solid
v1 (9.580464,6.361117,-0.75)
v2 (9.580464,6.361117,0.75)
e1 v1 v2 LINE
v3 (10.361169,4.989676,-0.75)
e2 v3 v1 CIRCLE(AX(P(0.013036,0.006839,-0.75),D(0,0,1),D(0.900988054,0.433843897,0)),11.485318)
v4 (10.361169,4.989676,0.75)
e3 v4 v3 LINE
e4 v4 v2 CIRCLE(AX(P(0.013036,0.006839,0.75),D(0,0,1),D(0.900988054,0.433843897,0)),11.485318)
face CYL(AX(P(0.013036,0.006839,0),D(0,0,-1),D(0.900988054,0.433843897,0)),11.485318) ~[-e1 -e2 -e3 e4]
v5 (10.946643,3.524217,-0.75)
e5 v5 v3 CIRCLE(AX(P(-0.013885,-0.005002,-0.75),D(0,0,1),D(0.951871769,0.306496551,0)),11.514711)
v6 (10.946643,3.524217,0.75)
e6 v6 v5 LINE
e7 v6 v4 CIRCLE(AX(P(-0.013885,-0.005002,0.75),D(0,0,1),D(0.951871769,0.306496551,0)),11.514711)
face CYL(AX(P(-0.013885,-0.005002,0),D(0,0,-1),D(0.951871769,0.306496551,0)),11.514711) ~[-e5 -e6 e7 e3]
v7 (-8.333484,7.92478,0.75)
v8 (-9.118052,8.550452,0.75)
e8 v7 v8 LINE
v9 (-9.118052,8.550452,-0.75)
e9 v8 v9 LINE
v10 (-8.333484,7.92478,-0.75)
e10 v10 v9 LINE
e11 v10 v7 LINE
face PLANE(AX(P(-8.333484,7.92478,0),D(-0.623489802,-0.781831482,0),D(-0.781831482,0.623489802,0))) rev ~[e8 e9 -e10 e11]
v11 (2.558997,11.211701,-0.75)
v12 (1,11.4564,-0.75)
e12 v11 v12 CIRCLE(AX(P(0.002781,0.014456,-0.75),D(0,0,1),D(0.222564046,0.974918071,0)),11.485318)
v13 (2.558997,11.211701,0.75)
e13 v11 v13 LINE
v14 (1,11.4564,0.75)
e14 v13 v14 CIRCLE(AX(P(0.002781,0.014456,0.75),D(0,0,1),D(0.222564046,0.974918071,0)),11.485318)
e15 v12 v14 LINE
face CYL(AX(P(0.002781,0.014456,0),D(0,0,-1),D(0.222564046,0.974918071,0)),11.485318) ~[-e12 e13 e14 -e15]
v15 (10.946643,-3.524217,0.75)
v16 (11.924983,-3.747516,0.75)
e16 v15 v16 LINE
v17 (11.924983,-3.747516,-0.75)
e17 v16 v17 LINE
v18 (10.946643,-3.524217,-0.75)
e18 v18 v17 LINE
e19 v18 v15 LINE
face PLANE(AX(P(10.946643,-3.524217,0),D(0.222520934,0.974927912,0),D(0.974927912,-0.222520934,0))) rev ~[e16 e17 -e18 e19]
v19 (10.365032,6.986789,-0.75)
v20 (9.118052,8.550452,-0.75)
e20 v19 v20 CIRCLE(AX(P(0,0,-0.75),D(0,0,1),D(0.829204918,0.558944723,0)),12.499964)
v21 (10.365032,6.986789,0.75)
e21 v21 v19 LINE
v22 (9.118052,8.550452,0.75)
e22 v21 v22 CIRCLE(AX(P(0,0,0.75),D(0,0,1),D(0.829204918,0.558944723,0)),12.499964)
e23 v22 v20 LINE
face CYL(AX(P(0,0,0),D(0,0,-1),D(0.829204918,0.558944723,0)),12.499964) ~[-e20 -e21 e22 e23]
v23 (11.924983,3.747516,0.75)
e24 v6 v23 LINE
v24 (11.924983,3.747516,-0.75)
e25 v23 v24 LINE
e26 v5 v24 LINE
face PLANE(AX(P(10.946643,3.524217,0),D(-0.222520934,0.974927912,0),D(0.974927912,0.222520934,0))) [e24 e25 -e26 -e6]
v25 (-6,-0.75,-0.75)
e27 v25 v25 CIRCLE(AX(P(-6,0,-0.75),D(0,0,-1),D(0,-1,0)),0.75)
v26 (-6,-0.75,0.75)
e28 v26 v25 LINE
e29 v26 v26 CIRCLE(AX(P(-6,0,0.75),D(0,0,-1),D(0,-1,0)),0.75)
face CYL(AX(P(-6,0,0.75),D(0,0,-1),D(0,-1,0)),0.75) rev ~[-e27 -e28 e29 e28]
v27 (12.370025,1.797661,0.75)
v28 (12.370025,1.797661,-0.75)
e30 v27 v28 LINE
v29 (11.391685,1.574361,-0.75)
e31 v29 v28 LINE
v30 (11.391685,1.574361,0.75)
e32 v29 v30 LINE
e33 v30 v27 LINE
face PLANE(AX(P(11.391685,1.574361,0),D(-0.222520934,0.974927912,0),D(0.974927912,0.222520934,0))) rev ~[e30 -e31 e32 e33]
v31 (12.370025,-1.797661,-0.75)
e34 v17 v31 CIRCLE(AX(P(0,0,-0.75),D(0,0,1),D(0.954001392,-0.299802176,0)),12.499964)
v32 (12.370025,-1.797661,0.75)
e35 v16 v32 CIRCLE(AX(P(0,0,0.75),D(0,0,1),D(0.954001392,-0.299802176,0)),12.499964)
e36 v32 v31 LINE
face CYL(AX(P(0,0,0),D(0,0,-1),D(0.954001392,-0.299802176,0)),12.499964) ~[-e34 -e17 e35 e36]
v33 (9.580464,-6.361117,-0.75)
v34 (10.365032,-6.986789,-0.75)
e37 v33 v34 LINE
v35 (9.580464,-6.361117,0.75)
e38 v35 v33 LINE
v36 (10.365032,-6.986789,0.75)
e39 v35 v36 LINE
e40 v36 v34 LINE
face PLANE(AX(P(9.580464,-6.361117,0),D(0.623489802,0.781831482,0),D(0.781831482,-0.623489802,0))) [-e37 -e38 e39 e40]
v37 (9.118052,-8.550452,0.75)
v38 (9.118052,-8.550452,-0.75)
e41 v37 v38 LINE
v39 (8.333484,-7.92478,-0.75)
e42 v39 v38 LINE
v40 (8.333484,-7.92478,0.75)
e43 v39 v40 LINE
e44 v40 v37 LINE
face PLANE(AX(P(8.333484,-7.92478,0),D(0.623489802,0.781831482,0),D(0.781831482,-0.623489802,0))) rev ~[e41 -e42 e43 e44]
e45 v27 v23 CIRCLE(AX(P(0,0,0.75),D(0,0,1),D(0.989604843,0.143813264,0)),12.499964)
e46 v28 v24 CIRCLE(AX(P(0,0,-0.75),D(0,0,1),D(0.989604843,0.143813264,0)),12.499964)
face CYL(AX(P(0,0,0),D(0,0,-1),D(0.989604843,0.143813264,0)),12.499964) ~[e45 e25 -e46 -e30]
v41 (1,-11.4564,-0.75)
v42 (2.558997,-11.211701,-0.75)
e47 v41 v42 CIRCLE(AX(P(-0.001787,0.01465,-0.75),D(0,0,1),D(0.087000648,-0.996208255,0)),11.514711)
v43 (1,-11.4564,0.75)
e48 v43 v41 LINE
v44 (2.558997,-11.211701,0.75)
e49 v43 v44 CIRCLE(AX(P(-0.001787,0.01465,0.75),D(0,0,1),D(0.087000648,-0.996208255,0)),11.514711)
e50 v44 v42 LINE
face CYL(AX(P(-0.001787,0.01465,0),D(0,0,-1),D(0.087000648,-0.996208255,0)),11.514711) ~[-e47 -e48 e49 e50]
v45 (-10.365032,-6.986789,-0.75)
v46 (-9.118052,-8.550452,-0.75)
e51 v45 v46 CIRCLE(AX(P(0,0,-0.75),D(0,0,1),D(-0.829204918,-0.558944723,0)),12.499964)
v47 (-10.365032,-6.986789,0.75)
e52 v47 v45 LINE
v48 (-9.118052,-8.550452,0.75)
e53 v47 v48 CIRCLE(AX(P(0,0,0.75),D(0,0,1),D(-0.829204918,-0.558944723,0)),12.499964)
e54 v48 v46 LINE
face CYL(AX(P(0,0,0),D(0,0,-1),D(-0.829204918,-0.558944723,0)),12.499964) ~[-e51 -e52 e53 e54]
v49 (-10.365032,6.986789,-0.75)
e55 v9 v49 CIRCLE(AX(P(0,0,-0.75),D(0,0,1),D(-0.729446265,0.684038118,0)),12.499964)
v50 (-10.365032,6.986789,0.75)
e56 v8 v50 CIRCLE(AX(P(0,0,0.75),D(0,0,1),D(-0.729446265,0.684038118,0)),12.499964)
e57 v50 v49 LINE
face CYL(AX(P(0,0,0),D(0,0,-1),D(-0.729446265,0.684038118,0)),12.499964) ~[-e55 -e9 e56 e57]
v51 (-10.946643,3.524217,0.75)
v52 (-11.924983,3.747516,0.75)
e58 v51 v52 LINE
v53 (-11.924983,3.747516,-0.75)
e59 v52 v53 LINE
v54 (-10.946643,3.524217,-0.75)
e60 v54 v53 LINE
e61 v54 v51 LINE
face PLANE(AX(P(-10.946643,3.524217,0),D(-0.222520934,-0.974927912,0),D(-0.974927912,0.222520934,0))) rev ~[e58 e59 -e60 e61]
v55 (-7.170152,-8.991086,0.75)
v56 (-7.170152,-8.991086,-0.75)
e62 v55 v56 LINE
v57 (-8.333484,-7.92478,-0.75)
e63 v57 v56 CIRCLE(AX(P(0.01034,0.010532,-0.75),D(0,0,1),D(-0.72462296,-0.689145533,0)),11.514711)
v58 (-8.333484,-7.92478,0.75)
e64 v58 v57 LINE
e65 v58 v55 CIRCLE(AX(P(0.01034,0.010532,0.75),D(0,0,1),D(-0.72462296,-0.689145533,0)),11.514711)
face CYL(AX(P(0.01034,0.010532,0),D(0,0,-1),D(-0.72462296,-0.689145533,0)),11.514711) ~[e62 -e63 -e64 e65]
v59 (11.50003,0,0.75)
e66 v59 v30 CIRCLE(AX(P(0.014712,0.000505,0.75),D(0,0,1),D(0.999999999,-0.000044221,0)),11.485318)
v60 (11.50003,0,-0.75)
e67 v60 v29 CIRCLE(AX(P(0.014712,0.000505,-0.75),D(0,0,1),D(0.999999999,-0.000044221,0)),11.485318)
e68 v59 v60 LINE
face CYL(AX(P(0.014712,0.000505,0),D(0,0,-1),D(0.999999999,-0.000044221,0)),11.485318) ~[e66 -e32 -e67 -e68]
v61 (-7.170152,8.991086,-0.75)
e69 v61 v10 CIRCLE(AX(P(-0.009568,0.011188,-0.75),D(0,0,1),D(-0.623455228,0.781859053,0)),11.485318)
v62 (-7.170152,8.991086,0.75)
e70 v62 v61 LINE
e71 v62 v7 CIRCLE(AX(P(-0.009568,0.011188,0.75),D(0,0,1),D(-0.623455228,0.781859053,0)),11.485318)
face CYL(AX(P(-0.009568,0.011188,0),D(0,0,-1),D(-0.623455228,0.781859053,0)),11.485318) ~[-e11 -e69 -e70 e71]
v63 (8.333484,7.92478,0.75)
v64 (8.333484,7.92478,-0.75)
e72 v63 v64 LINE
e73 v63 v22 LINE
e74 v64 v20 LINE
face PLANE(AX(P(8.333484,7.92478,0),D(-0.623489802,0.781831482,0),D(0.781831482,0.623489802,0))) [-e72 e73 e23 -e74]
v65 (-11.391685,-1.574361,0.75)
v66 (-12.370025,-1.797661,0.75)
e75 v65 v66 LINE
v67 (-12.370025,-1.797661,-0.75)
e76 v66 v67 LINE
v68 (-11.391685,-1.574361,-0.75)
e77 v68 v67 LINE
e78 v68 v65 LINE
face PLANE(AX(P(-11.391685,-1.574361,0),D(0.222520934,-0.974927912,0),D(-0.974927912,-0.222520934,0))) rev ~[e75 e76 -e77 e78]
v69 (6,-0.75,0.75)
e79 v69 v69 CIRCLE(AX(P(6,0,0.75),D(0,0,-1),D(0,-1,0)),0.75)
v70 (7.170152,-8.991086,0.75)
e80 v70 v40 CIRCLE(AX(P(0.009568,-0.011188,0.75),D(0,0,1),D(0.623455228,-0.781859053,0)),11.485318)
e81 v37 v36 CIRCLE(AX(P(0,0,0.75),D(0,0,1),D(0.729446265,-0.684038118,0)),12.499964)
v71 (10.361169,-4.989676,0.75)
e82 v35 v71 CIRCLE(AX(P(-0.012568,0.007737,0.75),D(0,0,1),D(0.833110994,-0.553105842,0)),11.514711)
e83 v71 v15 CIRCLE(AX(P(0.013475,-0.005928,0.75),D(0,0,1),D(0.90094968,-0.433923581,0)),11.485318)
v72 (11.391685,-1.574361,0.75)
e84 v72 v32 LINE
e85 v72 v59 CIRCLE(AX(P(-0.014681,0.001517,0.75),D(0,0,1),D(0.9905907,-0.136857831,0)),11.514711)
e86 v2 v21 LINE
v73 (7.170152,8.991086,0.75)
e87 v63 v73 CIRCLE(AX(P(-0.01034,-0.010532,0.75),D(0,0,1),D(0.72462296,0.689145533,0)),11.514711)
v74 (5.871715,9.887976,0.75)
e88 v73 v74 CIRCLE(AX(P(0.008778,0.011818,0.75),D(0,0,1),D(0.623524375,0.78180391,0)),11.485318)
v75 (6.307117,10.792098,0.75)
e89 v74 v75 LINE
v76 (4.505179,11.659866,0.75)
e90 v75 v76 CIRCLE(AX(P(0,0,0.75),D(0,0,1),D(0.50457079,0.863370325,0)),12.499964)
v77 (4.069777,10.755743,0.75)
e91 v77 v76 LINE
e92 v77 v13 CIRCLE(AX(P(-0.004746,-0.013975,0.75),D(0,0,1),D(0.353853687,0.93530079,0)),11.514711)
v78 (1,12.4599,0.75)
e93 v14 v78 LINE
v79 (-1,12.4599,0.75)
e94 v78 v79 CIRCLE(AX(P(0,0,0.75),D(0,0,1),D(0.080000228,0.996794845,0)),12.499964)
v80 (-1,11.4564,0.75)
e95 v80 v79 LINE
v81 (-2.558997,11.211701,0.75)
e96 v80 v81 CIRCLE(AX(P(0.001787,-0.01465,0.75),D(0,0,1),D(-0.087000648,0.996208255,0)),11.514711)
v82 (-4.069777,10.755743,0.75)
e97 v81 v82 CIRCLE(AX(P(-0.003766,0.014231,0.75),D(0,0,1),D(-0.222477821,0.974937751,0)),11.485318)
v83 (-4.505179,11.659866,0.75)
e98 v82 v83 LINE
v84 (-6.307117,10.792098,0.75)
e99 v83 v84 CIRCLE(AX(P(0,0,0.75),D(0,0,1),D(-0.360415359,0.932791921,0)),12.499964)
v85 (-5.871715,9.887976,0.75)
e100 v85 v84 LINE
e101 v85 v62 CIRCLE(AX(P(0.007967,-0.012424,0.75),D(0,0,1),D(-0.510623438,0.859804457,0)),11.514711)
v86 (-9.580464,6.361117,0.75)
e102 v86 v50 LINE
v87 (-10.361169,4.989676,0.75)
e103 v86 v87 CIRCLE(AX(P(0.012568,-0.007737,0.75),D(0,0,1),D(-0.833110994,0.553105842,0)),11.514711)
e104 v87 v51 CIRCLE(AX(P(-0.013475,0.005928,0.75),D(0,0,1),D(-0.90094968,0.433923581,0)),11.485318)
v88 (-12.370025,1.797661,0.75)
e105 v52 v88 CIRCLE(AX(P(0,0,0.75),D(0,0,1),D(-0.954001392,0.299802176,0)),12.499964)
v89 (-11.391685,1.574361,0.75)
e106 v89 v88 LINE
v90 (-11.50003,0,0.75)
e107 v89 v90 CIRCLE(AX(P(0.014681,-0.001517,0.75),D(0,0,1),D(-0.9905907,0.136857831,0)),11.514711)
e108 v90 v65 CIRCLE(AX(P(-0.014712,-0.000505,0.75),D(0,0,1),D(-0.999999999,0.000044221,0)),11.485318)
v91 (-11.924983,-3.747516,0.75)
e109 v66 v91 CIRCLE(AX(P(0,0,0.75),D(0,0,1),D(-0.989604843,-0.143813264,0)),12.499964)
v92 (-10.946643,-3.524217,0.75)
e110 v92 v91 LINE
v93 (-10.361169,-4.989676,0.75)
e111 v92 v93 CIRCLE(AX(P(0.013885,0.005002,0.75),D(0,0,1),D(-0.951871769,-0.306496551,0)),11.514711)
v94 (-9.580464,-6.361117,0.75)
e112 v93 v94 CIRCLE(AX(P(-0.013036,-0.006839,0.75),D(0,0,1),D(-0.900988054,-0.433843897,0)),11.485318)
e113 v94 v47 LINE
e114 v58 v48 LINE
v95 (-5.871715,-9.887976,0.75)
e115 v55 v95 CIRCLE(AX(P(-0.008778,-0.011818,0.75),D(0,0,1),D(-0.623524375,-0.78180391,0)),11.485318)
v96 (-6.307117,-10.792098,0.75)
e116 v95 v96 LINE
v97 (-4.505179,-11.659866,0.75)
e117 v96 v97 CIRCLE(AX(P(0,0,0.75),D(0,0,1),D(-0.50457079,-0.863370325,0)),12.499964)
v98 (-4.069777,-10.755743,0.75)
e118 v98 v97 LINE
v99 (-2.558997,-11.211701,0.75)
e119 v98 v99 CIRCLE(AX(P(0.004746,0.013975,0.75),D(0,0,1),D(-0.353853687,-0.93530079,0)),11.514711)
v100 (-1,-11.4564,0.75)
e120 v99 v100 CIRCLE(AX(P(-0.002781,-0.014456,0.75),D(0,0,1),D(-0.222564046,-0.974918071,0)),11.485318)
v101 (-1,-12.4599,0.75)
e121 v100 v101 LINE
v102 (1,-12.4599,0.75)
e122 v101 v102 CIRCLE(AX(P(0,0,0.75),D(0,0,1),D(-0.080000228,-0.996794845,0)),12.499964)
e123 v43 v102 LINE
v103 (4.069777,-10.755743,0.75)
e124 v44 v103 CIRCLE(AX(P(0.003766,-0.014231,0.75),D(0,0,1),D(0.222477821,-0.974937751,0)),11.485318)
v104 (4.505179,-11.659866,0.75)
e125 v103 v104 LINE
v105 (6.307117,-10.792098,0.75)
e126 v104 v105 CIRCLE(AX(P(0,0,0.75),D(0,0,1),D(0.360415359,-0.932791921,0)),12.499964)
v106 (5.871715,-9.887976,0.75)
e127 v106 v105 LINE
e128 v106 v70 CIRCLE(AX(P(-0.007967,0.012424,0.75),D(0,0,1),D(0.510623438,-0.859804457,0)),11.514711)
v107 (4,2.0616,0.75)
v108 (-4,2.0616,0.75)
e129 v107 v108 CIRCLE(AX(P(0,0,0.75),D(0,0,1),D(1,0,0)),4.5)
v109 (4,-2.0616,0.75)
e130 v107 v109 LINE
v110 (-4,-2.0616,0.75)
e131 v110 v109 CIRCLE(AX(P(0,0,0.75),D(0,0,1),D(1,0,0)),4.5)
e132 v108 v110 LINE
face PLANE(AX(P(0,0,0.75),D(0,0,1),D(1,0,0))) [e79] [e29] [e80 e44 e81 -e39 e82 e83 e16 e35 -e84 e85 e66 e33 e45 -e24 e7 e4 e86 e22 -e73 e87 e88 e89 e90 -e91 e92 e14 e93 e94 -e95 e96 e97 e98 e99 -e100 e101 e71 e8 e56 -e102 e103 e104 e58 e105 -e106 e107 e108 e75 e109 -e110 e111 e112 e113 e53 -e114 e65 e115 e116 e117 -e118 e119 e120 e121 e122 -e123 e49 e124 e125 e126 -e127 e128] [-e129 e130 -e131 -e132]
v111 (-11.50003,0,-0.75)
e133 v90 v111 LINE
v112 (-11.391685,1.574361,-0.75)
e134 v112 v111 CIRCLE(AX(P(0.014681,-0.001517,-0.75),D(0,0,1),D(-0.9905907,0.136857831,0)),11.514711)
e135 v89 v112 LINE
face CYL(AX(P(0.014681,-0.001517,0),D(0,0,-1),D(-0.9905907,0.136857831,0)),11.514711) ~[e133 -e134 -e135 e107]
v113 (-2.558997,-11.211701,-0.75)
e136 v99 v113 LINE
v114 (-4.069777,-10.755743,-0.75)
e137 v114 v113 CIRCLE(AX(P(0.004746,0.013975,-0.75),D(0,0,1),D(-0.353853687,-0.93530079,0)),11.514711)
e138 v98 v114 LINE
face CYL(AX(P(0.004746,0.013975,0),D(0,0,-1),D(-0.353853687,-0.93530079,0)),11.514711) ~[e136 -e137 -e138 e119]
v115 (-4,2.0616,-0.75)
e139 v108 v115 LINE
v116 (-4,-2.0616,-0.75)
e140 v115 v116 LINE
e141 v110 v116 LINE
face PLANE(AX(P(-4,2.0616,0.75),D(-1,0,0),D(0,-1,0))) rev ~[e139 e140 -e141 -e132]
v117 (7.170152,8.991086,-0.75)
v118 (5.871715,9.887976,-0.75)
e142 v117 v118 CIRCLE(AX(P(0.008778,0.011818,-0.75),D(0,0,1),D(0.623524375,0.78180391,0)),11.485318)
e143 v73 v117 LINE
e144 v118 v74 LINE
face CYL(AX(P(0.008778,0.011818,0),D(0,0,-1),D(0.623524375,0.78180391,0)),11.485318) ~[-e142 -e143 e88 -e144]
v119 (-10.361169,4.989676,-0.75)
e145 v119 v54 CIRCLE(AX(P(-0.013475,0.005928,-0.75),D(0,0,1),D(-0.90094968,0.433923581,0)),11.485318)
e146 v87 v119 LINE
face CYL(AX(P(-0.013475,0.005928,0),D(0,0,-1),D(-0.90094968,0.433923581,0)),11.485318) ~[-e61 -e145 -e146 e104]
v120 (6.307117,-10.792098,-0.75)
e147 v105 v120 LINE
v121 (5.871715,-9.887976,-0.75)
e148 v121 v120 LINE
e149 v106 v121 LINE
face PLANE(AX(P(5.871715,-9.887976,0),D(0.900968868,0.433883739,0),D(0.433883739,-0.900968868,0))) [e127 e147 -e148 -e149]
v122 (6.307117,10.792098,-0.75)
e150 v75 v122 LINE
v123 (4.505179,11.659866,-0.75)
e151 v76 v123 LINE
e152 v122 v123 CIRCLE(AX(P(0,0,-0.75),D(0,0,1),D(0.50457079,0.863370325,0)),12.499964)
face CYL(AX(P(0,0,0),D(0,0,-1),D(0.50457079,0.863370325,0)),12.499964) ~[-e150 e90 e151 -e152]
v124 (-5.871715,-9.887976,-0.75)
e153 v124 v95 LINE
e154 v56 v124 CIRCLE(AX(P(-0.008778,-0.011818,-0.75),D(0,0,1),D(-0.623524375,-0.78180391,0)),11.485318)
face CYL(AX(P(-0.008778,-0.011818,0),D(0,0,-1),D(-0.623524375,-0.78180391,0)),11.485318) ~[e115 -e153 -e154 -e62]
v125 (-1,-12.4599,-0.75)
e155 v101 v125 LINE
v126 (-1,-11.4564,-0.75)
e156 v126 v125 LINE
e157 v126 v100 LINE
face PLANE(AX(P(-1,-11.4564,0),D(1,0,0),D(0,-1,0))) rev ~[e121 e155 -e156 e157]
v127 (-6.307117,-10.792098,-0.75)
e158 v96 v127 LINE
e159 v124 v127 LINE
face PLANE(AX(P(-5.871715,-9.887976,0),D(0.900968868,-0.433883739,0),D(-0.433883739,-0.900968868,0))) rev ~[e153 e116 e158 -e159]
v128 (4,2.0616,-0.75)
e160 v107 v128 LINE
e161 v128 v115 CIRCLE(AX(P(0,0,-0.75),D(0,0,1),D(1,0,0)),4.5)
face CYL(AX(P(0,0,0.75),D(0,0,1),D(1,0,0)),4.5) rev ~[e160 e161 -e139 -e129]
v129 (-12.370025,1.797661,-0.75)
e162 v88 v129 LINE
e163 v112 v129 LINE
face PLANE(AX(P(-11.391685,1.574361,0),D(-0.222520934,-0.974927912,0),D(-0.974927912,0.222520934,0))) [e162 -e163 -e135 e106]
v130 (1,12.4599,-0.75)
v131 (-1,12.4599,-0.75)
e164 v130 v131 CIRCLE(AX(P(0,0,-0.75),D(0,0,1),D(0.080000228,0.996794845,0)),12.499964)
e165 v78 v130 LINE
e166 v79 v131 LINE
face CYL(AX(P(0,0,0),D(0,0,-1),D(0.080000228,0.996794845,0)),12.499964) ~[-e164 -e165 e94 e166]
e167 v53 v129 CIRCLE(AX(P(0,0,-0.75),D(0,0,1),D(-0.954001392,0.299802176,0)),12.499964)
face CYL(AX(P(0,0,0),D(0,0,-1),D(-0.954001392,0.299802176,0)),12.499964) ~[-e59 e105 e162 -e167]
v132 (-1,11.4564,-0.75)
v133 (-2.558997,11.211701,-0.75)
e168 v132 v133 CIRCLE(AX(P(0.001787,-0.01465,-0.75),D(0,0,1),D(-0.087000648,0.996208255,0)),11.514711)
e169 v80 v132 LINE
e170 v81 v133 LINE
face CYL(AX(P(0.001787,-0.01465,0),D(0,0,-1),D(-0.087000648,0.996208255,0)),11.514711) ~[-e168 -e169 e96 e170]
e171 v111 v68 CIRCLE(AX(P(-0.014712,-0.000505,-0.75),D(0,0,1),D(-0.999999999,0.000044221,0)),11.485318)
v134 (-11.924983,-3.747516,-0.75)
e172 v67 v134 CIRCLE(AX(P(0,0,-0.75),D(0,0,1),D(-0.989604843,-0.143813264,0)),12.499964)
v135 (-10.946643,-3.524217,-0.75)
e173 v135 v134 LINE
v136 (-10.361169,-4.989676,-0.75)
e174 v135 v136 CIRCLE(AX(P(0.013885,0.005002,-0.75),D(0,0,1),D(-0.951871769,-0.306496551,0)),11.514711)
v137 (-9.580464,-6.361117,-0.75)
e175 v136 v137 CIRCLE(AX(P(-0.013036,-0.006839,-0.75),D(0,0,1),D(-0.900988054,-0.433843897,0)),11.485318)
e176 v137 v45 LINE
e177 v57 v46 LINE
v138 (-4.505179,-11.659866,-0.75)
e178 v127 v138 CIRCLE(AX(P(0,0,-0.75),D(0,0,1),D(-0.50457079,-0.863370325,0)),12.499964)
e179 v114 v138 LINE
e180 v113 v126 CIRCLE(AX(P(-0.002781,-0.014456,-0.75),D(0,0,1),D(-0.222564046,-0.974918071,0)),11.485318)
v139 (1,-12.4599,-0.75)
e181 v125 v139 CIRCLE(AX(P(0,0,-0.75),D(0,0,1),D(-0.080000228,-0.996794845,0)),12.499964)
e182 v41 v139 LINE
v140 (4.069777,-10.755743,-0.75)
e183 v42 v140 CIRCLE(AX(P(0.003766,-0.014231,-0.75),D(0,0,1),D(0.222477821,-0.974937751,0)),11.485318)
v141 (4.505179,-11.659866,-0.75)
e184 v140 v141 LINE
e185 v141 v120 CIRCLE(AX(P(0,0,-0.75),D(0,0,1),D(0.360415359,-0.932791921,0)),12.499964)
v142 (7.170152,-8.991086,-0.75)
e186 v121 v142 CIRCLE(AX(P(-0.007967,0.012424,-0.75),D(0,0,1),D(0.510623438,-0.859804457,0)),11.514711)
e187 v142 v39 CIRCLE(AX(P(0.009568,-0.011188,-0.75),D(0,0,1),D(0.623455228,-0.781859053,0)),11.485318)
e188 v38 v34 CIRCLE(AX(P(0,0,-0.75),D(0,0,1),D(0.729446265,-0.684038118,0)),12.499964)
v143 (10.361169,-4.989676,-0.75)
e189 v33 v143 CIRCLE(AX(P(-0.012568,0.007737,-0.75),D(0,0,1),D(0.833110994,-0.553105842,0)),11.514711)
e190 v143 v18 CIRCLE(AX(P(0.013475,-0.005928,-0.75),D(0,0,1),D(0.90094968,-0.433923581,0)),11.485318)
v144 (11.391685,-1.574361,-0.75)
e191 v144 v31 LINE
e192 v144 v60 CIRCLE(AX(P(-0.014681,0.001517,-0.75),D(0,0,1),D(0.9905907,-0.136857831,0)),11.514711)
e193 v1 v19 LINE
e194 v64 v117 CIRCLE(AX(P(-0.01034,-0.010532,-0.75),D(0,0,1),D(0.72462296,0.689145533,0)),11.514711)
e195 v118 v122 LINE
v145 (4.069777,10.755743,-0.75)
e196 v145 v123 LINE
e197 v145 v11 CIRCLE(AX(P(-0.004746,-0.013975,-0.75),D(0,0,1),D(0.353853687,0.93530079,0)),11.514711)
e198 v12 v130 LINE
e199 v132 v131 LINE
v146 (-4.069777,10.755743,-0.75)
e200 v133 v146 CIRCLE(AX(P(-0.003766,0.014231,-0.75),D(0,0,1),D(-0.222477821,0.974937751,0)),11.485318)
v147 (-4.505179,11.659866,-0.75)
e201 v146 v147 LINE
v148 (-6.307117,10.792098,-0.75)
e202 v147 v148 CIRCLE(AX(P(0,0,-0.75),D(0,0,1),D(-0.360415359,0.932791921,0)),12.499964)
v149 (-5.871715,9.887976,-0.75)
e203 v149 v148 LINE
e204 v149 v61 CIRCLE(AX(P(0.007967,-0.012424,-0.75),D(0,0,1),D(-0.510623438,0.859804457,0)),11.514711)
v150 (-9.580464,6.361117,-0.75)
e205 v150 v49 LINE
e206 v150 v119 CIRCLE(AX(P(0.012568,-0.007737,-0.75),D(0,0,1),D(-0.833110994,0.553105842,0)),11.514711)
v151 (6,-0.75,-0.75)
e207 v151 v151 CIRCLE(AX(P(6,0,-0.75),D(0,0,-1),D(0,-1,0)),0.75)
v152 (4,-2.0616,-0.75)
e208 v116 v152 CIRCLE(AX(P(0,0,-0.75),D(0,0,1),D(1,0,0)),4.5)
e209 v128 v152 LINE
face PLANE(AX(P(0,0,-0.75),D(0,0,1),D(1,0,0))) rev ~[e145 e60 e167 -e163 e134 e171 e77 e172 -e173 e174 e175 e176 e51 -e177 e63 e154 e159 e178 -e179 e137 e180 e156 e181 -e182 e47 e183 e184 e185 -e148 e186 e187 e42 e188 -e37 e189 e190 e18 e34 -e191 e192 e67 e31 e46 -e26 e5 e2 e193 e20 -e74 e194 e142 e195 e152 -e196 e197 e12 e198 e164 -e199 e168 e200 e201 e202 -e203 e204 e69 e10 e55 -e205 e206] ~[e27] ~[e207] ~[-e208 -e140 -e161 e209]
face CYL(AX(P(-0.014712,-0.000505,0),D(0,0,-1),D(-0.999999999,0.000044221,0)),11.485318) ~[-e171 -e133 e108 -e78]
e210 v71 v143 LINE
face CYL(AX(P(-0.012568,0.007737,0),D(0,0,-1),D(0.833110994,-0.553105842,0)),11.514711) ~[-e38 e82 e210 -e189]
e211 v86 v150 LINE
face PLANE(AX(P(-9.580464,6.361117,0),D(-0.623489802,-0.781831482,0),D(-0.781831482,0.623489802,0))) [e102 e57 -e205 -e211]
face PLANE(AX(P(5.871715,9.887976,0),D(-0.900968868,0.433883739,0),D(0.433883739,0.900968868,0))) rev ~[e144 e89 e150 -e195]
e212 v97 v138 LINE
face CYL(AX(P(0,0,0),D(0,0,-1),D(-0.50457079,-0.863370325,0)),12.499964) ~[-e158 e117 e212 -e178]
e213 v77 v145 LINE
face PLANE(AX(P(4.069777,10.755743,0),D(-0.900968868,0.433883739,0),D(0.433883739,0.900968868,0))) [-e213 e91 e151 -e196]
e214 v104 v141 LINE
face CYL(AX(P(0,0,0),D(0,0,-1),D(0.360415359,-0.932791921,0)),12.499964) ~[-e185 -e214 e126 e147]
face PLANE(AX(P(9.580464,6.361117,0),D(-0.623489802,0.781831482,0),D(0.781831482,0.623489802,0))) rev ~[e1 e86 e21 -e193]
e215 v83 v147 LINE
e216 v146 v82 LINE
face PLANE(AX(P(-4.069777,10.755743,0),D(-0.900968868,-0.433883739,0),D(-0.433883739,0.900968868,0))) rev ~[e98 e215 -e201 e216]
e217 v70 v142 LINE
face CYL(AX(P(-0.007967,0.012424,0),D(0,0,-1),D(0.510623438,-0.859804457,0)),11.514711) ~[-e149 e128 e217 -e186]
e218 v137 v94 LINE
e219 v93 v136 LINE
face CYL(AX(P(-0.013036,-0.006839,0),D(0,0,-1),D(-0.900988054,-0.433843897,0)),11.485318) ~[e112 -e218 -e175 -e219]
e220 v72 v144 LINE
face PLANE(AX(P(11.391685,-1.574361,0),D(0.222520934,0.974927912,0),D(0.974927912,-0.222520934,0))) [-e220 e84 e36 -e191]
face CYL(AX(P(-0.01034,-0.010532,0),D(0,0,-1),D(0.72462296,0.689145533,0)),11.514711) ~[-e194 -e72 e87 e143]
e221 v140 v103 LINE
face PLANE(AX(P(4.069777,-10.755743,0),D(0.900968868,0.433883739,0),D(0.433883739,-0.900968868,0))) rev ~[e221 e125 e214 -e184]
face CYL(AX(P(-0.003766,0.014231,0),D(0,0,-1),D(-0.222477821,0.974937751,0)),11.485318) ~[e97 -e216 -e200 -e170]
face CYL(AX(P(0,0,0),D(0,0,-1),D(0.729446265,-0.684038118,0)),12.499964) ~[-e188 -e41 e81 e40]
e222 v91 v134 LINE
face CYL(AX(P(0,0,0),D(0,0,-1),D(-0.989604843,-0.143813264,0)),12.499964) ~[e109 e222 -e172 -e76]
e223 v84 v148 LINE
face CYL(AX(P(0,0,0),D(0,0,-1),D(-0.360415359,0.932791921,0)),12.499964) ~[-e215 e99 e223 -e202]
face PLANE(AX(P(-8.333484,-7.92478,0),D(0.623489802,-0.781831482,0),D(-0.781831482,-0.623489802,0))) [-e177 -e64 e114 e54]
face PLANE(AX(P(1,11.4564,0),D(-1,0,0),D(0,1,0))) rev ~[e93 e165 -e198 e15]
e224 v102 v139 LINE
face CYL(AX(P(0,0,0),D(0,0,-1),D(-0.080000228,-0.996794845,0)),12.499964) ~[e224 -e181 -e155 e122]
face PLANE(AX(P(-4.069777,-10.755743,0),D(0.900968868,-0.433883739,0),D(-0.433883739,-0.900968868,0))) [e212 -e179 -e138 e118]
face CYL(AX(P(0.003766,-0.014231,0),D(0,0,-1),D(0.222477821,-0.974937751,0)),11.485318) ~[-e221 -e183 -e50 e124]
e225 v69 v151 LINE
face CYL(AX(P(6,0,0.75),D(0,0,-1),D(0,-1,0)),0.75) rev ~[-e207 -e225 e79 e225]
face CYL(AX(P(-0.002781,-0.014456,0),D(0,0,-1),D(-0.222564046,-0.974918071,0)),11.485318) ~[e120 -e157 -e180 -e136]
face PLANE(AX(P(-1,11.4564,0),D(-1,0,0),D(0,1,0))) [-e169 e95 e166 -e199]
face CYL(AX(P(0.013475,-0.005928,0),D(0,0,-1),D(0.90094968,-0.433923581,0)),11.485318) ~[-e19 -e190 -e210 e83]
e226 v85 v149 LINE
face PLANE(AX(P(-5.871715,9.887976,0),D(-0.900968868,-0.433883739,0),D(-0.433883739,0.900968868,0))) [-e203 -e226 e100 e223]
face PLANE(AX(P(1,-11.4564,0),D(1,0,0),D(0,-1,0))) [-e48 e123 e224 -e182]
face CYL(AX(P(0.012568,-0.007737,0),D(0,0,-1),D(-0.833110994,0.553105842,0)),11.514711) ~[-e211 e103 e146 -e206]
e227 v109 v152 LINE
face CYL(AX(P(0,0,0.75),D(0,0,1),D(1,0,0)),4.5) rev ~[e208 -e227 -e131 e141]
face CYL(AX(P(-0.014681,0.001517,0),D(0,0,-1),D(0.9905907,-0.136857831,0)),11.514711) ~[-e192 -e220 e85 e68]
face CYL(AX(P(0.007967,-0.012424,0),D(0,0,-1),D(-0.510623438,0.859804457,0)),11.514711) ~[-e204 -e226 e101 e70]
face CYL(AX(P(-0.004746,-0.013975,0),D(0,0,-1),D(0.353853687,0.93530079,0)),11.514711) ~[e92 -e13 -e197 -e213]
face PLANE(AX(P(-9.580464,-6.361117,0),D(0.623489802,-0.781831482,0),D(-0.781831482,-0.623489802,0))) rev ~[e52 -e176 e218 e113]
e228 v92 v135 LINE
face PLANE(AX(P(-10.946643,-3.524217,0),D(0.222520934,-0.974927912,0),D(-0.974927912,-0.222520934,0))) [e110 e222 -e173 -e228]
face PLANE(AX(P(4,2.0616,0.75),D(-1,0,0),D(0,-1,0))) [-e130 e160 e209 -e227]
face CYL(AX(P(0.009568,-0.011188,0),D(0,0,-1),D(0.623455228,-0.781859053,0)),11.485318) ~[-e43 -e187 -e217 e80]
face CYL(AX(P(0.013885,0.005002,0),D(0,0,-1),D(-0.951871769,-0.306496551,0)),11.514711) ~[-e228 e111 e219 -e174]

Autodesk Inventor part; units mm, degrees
ref_plane "YZ Plane" through (0, 0, 0) normal (1, 0, 0) x (0, 1, 0)
ref_plane "XZ Plane" through (0, 0, 0) normal (0, 1, 0) x (-1, 0, 0)
ref_plane "XY Plane" through (0, 0, 0) normal (0, 0, 1) x (1, 0, 0)
sketch "Sketch1" plane through (0, 0, 0) normal (0, 0, 1) x (1, 0, 0)
  line L0 (0, 0) -> (-2.559, 11.2117)
  line L1 (0, 0) -> (2.559, 11.2117)
  line L2 (0, 0) -> (0, 11.5) construction
  line L3 (-1, 11.4564) -> (-1, 12.4599)
  line L4 (1, 11.4564) -> (1, 12.4599)
  line L5 (-1, 12.4599) -> (1, 12.4599) construction
  arc A0 (1, 12.4599) -> (-1, 12.4599) centre (0, 0) ccw
  line L6 (-1, 11.4564) -> (1, 11.4564) construction
  arc A1 (2.559, 11.2117) -> (1, 11.4564) centre (0, 0) ccw
  arc A2 (-1, 11.4564) -> (-2.559, 11.2117) centre (0, 0) ccw
  line L7 (-2.559, 11.2117) -> (2.559, 11.2117) construction
  point P0 (0, 12.5)
  point P1 (0, 12.4599)
  dimension "d0" = 25.714
  dimension "d2" = 12.5
  dimension "d3" = 2
  dimension "d4" = 11.5
extrude "Extrusion1" add sketch "Sketch1" along normal mid plane 1.5
pattern_circular "Circular Pattern1" count 14 over 360 about axis through (0, 0, -0.75) along (0, 0, 1)
sketch "Sketch2" plane through (0, 0, 0.75) normal (0, 0, 1) x (1, 0, 0)
  circle A0 centre (0, 0) radius 4.5
  line L0 (-4, 2.0616) -> (-4, -2.0616)
  line L1 (4, 2.0616) -> (4, -2.0616)
  dimension "d10" = 9
  dimension "d11" = 8
extrude "Extrusion2" cut sketch "Sketch2" against normal through all contours L1 A0 L0
sketch "Sketch3" plane through (0, 0, 0.75) normal (0, 0, 1) x (1, 0, 0)
  line L0 (-6, 0) -> (6, 0) construction
  point P0 (0, 0)
  point P1 (0, 0)
  dimension "d14" = 12
hole "Hole1" at (-6, 0, 0.75) at (6, 0, 0.75) direction (0, 0, -1) diameter 1.5 end through all
properties part number "404-03" material "Steel, Mild"
